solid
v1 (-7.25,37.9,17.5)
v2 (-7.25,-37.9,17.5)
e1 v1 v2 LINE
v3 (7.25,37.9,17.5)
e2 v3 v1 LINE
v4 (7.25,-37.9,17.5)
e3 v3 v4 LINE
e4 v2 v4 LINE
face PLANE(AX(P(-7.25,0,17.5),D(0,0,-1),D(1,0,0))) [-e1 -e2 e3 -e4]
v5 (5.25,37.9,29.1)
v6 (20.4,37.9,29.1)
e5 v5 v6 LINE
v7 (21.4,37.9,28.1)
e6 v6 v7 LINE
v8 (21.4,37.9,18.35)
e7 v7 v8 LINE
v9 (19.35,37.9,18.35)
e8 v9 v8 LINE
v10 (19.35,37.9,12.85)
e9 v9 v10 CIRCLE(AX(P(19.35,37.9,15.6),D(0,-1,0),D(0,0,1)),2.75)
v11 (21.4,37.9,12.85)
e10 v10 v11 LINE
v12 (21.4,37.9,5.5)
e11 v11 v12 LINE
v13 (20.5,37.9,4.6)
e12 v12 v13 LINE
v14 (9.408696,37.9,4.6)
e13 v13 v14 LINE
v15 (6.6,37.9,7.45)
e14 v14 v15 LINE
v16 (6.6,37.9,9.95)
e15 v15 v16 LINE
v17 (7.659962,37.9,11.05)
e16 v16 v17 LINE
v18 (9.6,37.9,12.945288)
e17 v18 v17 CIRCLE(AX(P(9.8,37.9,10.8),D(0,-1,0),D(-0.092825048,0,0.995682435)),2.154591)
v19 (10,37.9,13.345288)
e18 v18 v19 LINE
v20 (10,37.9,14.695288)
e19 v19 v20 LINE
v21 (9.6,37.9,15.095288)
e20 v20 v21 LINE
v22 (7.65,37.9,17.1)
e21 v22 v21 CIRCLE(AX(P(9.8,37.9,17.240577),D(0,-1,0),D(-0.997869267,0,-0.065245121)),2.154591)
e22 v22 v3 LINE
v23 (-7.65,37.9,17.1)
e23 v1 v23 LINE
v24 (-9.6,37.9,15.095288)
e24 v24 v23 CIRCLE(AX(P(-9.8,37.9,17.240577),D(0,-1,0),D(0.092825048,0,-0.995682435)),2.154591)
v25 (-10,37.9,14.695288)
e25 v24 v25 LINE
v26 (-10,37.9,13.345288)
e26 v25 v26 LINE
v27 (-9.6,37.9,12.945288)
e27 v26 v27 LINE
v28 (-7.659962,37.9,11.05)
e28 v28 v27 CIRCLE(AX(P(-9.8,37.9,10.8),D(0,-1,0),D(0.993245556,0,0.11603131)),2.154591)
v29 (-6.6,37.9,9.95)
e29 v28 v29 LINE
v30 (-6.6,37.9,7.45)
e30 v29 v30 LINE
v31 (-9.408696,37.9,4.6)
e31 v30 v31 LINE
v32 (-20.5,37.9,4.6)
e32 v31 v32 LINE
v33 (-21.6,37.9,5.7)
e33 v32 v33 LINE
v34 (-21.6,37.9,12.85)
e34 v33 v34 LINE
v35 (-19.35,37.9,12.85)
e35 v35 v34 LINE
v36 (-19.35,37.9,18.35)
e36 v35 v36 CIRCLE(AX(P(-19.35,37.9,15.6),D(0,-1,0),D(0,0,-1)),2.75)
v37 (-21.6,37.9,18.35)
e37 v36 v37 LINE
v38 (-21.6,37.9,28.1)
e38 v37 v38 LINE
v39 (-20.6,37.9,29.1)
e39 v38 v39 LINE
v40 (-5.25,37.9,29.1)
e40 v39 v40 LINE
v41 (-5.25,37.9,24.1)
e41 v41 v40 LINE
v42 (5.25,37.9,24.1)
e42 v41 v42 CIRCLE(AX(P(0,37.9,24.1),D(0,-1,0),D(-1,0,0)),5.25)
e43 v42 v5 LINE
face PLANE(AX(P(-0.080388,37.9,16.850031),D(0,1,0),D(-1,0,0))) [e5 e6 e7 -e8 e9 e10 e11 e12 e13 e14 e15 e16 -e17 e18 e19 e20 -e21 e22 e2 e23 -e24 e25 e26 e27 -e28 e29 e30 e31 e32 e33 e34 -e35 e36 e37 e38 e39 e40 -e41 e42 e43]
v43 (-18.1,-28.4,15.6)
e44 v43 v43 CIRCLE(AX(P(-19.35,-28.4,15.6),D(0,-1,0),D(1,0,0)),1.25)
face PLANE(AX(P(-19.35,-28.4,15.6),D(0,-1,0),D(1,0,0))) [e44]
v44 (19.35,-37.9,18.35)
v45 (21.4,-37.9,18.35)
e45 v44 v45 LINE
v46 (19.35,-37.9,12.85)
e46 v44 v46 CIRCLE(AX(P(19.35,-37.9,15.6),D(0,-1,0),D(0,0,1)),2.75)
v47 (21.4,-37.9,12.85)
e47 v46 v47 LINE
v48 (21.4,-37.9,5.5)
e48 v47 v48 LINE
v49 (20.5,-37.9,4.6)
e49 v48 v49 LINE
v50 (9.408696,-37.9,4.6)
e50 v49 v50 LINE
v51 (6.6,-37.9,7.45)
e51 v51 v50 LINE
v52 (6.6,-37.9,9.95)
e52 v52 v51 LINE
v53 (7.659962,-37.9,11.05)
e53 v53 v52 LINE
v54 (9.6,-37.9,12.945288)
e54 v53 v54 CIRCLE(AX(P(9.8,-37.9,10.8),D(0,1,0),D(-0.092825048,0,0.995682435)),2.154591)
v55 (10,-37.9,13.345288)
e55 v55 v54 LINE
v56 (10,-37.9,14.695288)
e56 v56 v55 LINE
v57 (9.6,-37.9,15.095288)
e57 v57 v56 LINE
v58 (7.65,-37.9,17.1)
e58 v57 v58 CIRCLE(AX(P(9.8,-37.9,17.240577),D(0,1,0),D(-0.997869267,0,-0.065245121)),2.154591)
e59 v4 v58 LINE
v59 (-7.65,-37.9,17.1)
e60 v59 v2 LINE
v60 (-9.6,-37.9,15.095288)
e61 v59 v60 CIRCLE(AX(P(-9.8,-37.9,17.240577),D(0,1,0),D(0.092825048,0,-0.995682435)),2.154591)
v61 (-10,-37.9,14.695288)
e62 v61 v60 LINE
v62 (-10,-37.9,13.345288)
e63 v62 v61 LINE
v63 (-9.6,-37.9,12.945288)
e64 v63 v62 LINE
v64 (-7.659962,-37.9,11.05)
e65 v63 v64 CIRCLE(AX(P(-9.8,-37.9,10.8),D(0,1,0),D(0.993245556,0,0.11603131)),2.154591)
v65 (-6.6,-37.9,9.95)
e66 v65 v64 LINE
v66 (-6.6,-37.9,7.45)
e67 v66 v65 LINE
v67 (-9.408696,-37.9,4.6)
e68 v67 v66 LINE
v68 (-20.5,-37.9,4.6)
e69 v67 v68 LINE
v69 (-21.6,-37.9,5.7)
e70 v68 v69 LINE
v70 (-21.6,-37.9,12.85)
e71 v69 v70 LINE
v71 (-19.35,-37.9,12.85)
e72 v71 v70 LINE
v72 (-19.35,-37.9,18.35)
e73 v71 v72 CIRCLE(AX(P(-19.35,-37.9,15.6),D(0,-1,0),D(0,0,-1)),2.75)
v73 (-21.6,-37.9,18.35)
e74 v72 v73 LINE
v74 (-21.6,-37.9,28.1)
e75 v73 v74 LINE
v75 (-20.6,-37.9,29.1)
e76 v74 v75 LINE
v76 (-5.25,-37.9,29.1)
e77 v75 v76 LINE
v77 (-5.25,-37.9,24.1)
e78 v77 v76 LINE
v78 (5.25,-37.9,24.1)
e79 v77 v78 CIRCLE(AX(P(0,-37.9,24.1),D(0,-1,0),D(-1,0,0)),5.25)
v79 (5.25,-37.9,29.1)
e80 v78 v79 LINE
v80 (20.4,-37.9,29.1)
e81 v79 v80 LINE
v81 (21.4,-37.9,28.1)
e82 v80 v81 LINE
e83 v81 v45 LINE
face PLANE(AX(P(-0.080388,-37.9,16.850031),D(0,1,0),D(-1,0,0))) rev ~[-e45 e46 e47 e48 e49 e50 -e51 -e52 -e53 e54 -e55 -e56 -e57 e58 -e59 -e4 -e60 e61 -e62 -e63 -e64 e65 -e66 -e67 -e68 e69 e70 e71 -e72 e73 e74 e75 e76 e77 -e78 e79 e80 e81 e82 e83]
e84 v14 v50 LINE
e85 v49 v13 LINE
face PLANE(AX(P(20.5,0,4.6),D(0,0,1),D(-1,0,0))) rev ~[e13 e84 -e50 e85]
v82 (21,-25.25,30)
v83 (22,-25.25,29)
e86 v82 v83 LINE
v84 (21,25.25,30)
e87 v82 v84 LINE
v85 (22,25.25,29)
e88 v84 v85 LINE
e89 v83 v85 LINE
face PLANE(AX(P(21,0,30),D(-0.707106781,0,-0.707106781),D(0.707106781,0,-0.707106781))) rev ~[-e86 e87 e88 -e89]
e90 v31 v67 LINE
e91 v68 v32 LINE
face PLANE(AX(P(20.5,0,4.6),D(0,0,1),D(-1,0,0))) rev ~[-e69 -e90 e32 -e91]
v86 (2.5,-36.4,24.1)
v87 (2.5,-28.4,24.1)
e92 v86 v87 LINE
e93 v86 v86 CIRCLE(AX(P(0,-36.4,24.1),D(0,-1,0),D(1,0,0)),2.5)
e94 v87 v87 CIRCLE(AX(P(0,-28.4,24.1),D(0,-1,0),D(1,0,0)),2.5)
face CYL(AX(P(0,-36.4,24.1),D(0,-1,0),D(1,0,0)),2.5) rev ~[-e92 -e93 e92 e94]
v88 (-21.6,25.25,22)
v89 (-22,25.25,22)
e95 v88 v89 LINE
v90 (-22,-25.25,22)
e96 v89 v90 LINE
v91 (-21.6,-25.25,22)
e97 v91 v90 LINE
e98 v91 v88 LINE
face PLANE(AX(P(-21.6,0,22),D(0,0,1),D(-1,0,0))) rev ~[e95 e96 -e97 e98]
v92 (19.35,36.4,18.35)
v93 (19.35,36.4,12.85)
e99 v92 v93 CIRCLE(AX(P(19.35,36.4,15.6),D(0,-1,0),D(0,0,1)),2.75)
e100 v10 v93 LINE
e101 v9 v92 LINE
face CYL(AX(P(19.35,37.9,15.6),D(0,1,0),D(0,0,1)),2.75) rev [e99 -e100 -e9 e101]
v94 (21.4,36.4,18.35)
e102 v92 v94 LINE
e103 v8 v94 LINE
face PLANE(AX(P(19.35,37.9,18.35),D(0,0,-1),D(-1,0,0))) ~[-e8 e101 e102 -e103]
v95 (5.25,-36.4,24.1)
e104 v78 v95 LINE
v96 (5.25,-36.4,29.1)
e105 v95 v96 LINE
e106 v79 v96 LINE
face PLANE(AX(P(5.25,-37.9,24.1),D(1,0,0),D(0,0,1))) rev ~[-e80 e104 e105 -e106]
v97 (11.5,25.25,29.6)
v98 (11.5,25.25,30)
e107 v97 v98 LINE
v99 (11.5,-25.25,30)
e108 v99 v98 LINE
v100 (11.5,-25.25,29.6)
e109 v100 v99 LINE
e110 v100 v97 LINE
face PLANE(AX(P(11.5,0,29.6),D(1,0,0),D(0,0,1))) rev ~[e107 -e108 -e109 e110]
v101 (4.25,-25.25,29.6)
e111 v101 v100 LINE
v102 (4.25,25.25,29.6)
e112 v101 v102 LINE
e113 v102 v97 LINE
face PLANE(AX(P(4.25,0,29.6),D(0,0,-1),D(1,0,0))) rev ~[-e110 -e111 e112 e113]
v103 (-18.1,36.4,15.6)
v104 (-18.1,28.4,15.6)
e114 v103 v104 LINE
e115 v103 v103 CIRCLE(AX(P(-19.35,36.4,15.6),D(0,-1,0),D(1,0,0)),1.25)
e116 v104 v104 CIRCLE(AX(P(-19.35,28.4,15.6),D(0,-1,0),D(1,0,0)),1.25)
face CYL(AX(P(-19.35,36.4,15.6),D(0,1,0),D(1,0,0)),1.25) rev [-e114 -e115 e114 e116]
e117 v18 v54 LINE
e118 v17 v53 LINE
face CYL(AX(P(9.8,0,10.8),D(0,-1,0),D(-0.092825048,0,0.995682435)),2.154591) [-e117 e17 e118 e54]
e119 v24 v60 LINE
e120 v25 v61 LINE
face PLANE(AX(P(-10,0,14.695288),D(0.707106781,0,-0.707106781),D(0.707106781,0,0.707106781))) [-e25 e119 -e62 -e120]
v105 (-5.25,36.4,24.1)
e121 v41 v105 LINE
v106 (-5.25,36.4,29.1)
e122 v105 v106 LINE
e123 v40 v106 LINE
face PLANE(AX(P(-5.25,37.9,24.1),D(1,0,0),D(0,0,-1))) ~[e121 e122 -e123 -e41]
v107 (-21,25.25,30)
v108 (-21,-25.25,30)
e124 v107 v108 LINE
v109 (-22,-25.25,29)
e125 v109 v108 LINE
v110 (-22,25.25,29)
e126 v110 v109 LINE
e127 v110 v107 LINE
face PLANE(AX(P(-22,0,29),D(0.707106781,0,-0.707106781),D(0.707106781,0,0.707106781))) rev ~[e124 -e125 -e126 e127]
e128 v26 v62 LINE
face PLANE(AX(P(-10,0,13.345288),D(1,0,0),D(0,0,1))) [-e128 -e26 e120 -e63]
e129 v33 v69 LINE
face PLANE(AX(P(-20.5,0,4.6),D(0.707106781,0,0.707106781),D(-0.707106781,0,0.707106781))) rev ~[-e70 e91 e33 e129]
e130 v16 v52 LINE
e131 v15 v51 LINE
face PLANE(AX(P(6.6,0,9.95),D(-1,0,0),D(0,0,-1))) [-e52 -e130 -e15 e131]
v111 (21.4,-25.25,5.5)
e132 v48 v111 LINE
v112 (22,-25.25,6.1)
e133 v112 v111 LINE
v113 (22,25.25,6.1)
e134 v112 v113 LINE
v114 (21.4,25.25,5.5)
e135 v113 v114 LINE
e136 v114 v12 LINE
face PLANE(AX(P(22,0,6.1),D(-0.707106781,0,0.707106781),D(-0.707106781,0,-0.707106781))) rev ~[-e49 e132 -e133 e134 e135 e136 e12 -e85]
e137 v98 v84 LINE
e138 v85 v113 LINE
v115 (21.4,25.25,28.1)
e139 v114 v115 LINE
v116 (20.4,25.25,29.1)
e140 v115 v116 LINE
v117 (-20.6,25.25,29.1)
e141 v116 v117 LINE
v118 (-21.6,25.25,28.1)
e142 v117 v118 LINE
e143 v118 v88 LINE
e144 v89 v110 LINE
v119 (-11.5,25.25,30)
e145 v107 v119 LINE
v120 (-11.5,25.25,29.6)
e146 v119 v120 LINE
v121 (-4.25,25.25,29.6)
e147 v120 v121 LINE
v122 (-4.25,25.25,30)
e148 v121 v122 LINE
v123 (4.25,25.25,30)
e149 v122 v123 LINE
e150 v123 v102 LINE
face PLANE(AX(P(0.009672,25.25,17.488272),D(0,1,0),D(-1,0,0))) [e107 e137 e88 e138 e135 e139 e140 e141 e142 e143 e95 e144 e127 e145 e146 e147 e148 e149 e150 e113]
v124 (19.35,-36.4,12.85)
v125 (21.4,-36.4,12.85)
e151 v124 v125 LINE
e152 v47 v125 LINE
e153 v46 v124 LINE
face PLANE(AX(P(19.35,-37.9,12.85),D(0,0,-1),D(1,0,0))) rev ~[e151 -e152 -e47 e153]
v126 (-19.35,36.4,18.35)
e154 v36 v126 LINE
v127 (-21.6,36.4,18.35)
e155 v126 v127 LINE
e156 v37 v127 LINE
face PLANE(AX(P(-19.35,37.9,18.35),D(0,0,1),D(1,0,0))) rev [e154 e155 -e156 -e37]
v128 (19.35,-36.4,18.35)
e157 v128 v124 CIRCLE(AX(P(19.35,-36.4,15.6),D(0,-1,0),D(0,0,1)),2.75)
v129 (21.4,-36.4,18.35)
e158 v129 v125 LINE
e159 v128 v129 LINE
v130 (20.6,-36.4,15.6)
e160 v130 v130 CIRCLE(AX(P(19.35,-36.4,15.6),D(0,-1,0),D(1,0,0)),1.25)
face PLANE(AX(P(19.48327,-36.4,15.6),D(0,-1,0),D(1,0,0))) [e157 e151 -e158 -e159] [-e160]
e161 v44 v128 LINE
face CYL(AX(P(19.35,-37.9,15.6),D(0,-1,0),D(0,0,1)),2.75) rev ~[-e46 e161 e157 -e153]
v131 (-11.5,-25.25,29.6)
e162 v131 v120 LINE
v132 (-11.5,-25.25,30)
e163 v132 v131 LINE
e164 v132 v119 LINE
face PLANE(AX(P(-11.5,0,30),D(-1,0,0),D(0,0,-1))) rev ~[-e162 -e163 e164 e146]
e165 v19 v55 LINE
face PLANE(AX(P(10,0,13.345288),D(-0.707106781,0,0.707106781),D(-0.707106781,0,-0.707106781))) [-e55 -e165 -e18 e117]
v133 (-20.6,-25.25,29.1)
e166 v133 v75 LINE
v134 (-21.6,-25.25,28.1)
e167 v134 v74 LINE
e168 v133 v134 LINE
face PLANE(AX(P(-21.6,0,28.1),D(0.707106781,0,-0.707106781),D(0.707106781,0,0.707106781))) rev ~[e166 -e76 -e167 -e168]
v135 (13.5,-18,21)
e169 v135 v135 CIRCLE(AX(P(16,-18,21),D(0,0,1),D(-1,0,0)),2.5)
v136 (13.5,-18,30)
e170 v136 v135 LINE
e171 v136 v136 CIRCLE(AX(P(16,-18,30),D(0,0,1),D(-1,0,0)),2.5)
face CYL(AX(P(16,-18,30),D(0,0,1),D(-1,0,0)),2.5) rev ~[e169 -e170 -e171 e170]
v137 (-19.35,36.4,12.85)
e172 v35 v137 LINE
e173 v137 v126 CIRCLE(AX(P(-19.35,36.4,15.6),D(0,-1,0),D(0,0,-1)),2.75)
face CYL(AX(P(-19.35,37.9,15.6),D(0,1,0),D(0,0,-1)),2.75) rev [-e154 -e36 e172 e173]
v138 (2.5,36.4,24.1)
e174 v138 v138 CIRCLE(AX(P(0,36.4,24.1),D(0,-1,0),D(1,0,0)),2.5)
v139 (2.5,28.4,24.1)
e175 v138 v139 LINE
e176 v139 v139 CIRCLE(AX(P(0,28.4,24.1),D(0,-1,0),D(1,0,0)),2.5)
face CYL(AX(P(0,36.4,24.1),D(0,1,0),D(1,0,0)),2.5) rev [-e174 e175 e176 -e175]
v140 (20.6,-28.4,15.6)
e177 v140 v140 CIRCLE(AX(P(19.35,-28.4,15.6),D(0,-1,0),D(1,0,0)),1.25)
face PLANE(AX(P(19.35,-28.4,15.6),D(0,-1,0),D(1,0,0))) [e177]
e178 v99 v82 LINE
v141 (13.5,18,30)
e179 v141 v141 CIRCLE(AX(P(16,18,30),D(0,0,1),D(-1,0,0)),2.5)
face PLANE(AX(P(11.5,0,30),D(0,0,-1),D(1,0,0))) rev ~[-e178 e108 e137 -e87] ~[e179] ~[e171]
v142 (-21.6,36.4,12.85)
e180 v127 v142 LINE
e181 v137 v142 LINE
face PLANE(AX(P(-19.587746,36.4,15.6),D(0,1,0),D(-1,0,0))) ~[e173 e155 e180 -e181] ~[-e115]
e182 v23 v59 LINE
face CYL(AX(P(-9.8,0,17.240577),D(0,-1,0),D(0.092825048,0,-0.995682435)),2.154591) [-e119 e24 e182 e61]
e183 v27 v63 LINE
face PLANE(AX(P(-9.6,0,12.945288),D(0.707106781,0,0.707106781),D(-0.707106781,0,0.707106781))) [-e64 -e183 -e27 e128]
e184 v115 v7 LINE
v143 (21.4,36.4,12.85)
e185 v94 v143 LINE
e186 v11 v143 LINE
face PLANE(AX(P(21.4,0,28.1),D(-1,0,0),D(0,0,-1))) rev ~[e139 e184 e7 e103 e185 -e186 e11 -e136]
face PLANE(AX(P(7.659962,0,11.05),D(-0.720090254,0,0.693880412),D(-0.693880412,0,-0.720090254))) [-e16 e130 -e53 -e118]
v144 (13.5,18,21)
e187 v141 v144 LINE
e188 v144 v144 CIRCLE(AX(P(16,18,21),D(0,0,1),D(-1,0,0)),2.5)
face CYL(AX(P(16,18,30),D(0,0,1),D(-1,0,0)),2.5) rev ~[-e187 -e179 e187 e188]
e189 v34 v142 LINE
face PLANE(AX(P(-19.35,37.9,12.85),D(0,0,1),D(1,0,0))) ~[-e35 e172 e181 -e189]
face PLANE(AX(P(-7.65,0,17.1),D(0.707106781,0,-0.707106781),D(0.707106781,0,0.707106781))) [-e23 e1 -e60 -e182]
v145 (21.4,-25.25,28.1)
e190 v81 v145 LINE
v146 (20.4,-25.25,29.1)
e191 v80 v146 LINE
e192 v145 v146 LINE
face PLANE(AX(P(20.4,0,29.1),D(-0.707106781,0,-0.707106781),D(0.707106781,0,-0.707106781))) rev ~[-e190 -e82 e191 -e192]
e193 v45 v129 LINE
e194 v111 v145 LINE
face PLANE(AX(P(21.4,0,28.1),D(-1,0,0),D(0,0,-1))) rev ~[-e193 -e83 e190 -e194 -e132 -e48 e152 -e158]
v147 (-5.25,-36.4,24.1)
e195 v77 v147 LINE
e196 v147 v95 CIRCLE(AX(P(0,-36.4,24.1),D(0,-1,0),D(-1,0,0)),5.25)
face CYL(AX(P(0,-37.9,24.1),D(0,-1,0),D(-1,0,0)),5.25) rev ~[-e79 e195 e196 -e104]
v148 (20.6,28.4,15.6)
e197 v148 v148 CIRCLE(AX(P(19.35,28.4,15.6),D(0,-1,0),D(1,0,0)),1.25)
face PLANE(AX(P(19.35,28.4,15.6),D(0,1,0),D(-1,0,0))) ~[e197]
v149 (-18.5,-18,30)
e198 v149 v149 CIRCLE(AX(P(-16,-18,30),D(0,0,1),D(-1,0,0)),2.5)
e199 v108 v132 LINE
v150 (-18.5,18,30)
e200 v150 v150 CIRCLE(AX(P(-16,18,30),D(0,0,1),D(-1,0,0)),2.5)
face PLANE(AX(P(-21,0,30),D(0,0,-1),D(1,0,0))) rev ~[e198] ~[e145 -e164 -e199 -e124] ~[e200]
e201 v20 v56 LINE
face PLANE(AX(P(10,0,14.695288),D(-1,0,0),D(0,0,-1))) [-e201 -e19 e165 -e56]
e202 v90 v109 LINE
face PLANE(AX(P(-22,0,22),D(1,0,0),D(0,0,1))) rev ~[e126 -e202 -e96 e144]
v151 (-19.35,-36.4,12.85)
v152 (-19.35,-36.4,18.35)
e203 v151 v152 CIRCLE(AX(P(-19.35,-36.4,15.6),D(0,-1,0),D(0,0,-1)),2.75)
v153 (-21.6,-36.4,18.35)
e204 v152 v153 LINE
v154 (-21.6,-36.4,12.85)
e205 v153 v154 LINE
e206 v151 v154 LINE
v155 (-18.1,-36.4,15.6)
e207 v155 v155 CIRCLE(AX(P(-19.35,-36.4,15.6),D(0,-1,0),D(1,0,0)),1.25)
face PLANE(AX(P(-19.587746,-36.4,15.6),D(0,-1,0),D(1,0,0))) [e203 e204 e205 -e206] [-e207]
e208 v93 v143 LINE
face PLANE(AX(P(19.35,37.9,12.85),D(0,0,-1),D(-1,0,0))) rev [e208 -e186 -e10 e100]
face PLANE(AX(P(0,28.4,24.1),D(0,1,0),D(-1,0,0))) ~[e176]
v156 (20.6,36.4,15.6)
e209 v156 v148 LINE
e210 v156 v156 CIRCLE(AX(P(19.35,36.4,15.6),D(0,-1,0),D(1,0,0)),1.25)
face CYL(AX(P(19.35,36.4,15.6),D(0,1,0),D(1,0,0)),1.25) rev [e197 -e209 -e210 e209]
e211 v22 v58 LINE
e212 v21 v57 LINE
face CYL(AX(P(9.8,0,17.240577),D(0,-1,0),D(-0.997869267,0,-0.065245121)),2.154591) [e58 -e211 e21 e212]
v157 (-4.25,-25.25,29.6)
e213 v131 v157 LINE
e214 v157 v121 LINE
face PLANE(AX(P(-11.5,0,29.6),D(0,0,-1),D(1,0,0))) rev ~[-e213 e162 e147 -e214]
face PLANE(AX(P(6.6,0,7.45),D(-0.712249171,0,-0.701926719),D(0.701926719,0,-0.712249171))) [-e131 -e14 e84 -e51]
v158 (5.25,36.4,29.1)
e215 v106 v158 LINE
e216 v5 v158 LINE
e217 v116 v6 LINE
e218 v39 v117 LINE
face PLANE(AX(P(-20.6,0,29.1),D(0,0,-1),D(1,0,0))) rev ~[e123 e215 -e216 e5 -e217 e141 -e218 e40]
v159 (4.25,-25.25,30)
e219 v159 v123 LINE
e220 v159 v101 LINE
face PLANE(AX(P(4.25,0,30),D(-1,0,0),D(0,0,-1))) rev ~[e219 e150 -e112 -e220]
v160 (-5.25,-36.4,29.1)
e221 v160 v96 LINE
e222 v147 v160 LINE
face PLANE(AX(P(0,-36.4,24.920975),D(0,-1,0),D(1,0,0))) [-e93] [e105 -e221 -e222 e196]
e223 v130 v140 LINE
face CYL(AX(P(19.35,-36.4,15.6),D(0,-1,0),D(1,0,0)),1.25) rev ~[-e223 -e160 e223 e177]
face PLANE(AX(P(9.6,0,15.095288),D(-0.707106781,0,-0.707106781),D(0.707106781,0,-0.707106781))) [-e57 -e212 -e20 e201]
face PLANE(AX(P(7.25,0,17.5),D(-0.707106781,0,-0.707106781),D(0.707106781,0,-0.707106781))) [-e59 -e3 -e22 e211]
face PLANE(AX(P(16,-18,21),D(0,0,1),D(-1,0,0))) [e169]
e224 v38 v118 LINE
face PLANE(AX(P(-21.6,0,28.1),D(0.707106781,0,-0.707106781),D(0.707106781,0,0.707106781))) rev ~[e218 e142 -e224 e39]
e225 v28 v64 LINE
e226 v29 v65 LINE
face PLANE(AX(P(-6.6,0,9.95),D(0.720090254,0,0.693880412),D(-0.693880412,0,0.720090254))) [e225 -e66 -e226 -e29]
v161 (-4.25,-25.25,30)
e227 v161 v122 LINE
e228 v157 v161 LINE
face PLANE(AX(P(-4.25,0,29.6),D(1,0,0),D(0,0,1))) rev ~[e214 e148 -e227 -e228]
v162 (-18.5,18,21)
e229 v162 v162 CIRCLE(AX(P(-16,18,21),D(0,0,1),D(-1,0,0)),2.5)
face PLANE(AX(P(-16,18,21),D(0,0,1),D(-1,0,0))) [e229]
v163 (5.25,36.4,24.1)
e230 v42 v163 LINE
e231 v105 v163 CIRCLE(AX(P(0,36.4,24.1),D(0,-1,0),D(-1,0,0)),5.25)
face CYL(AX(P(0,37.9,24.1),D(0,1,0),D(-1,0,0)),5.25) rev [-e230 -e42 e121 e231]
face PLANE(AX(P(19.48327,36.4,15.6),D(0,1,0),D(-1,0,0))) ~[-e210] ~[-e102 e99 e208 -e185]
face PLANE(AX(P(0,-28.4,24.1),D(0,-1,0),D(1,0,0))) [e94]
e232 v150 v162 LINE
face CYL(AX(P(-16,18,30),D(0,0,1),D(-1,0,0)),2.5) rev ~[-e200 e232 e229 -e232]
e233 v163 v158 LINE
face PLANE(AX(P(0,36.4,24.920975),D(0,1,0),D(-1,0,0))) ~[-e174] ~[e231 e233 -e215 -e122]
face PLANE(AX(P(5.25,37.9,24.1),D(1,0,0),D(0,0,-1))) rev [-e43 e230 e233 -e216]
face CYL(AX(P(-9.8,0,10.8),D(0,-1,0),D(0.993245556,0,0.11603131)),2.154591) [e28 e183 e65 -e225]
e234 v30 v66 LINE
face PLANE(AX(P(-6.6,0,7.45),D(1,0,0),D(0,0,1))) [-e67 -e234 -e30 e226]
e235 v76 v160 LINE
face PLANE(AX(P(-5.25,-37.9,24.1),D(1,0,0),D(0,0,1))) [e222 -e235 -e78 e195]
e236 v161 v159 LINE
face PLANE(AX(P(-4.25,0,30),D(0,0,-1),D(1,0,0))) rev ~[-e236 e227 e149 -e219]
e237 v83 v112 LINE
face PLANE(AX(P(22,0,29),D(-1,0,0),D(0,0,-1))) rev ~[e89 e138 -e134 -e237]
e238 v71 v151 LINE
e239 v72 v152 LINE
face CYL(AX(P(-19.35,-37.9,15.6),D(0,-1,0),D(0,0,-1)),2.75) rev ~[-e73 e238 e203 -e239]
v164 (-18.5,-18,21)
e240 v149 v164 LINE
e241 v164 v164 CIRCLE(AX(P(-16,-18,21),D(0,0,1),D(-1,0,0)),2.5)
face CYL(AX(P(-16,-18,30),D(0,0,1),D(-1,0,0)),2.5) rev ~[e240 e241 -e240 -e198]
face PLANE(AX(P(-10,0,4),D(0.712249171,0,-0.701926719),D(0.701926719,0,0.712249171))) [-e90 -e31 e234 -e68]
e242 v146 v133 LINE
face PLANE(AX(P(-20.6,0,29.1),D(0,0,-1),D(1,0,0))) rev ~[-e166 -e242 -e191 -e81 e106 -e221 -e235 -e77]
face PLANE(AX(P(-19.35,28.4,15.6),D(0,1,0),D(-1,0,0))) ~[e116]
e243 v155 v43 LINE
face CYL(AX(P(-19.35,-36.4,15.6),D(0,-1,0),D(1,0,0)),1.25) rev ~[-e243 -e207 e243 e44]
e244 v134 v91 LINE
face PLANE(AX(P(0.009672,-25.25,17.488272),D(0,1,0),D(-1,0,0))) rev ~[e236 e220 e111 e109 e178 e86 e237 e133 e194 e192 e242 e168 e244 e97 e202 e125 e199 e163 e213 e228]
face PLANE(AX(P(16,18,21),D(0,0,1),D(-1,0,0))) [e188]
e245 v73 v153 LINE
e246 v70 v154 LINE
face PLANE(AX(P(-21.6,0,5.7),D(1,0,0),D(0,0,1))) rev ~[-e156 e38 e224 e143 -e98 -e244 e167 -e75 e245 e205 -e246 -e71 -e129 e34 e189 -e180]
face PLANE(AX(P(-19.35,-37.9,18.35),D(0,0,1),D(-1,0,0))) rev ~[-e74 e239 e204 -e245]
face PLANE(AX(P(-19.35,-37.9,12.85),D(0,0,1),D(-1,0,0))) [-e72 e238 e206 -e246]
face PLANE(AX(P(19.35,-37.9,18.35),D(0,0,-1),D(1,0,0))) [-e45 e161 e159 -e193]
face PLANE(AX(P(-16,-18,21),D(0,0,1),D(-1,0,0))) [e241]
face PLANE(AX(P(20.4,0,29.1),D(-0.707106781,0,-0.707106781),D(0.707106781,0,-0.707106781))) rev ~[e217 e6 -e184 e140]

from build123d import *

# Parameters (mm, degrees)
PAD_DEPTH            = 25.25
PAD001_DEPTH         = 37.9
POCKET_DEPTH         = 1.5
SKETCH004_R          = 1.25
SKETCH004_R_2        = 2.5
POCKET001_DEPTH      = 8
POCKET002_DEPTH      = 37.901
POCKET002_DEPTH_BACK = 37.901
SKETCH001_R          = 2.5
POCKET003_DEPTH      = 9


with BuildPart() as part:
    # Sketch → Pad (new body, symmetric)
    with BuildSketch(Plane.XZ):
        Polygon((-21, 30), (-11.5, 30), (-11.5, 29.6), (-4.25, 29.6), (-4.25, 30), (4.25, 30), (4.25, 29.6), (11.5, 29.6), (11.5, 30), (21, 30), (22, 29), (22, 6.1), (20.5, 4.6), (-20.5, 4.6), (-21.6, 5.7), (-21.6, 22), (-22, 22), (-22, 29), align=None)
    extrude(amount=PAD_DEPTH, both=True)

    # Sketch002 → Pad001 (join, symmetric)
    with BuildSketch(Plane.XZ):
        Polygon((-20.6, 29.1), (20.4, 29.1), (21.4, 28.1), (21.4, 5.5), (20.5, 4.6), (-20.5, 4.6), (-21.6, 5.7), (-21.6, 28.1), align=None)
    extrude(amount=PAD001_DEPTH, both=True)

    # Sketch003 (on Face7 of Pad001) → Pocket (cut)
    with BuildSketch(Plane.XZ.offset(37.9)):
        with BuildLine():
            ThreePointArc((-5.25, 24.1), (0, 18.85), (5.25, 24.1))
            Line((5.25, 24.1), (5.25, 29.1))
            Line((-5.25, 29.1), (5.25, 29.1))
            Line((-5.25, 24.1), (-5.25, 29.1))
        make_face()
        with BuildLine():
            ThreePointArc((-19.35, 12.85), (-16.6, 15.6), (-19.35, 18.35))
            Line((-19.35, 18.35), (-21.6, 18.35))
            Line((-21.6, 18.35), (-21.6, 12.85))
            Line((-19.35, 12.85), (-21.6, 12.85))
        make_face()
        with BuildLine():
            ThreePointArc((19.35, 18.35), (16.6, 15.6), (19.35, 12.85))
            Line((19.35, 12.85), (21.4, 12.85))
            Line((21.4, 18.35), (21.4, 12.85))
            Line((19.35, 18.35), (21.4, 18.35))
        make_face()
    pocket = extrude(amount=-POCKET_DEPTH, mode=Mode.SUBTRACT)

    # Sketch004 (on Face42 of Pocket) → Pocket001 (cut)
    with BuildSketch(Plane.XZ.offset(36.4)):
        with Locations((-19.35, 15.6)):
            Circle(SKETCH004_R)
        with Locations((19.35, 15.6)):
            Circle(SKETCH004_R)
        with Locations((0, 24.1)):
            Circle(SKETCH004_R_2)
    pocket001 = extrude(amount=-POCKET001_DEPTH, mode=Mode.SUBTRACT)

    # Mirrored: Pocket001, Pocket across XZ
    add(pocket001.mirror(Plane.XZ), mode=Mode.SUBTRACT)
    add(pocket.mirror(Plane.XZ), mode=Mode.SUBTRACT)

    # Sketch010 → Pocket002 (cut, two sides)
    with BuildSketch(Plane.XZ) as pocket002_sk:
        with BuildLine():
            Line((-9, 0), (-10, 1))
            Line((-10, 1), (-10, 4))
            Line((-10, 4), (-6.6, 7.45))
            Line((-6.6, 7.45), (-6.6, 9.95))
            Line((-6.6, 9.95), (-7.659962205, 11.05))
            ThreePointArc((-7.659962205, 11.05), (-8.2943527546, 12.3411969817), (-9.6, 12.9452882706))
            Line((-9.6, 12.9452882706), (-10, 13.3452882706))
            Line((-10, 13.3452882706), (-10, 14.6952882706))
            Line((-10, 14.6952882706), (-9.6, 15.0952882706))
            ThreePointArc((-9.6, 15.0952882706), (-8.2555446657, 15.738271817), (-7.65, 17.1))
            Line((-7.65, 17.1), (-7.25, 17.5))
            Line((-7.25, 17.5), (0, 17.5))
            Line((0, 17.5), (7.25, 17.5))
            Line((7.25, 17.5), (7.65, 17.1))
            ThreePointArc((7.65, 17.1), (8.2555446657, 15.738271817), (9.6, 15.0952882706))
            Line((9.6, 15.0952882706), (10, 14.6952882706))
            Line((10, 14.6952882706), (10, 13.3452882706))
            Line((10, 13.3452882706), (9.6, 12.9452882706))
            ThreePointArc((9.6, 12.9452882706), (8.2943527546, 12.3411969817), (7.659962205, 11.05))
            Line((7.659962205, 11.05), (6.6, 9.95))
            Line((6.6, 9.95), (6.6, 7.45))
            Line((6.6, 7.45), (10, 4))
            Line((10, 4), (10, 1))
            Line((10, 1), (9, 0))
            Line((4, 0), (9, 0))
            Line((4, 0.4), (4, 0))
            Line((-4, 0.4), (4, 0.4))
            Line((-4, 0), (-4, 0.4))
            Line((-9, 0), (-4, 0))
        make_face()
    extrude(amount=-POCKET002_DEPTH, mode=Mode.SUBTRACT)
    extrude(pocket002_sk.sketch, amount=POCKET002_DEPTH_BACK, mode=Mode.SUBTRACT)

    # Sketch001 (on Face11 of Pad) → Pocket003 (cut)
    with BuildSketch(Plane(origin=(0, 0, 30), x_dir=(-1, 0, 0), z_dir=(0, 0, 1))):
        with Locations((-16, 18)):
            Circle(SKETCH001_R)
        with Locations((-16, -18)):
            Circle(SKETCH001_R)
        with Locations((16, 18)):
            Circle(SKETCH001_R)
        with Locations((16, -18)):
            Circle(SKETCH001_R)
    extrude(amount=-POCKET003_DEPTH, mode=Mode.SUBTRACT)


solid = part.part
